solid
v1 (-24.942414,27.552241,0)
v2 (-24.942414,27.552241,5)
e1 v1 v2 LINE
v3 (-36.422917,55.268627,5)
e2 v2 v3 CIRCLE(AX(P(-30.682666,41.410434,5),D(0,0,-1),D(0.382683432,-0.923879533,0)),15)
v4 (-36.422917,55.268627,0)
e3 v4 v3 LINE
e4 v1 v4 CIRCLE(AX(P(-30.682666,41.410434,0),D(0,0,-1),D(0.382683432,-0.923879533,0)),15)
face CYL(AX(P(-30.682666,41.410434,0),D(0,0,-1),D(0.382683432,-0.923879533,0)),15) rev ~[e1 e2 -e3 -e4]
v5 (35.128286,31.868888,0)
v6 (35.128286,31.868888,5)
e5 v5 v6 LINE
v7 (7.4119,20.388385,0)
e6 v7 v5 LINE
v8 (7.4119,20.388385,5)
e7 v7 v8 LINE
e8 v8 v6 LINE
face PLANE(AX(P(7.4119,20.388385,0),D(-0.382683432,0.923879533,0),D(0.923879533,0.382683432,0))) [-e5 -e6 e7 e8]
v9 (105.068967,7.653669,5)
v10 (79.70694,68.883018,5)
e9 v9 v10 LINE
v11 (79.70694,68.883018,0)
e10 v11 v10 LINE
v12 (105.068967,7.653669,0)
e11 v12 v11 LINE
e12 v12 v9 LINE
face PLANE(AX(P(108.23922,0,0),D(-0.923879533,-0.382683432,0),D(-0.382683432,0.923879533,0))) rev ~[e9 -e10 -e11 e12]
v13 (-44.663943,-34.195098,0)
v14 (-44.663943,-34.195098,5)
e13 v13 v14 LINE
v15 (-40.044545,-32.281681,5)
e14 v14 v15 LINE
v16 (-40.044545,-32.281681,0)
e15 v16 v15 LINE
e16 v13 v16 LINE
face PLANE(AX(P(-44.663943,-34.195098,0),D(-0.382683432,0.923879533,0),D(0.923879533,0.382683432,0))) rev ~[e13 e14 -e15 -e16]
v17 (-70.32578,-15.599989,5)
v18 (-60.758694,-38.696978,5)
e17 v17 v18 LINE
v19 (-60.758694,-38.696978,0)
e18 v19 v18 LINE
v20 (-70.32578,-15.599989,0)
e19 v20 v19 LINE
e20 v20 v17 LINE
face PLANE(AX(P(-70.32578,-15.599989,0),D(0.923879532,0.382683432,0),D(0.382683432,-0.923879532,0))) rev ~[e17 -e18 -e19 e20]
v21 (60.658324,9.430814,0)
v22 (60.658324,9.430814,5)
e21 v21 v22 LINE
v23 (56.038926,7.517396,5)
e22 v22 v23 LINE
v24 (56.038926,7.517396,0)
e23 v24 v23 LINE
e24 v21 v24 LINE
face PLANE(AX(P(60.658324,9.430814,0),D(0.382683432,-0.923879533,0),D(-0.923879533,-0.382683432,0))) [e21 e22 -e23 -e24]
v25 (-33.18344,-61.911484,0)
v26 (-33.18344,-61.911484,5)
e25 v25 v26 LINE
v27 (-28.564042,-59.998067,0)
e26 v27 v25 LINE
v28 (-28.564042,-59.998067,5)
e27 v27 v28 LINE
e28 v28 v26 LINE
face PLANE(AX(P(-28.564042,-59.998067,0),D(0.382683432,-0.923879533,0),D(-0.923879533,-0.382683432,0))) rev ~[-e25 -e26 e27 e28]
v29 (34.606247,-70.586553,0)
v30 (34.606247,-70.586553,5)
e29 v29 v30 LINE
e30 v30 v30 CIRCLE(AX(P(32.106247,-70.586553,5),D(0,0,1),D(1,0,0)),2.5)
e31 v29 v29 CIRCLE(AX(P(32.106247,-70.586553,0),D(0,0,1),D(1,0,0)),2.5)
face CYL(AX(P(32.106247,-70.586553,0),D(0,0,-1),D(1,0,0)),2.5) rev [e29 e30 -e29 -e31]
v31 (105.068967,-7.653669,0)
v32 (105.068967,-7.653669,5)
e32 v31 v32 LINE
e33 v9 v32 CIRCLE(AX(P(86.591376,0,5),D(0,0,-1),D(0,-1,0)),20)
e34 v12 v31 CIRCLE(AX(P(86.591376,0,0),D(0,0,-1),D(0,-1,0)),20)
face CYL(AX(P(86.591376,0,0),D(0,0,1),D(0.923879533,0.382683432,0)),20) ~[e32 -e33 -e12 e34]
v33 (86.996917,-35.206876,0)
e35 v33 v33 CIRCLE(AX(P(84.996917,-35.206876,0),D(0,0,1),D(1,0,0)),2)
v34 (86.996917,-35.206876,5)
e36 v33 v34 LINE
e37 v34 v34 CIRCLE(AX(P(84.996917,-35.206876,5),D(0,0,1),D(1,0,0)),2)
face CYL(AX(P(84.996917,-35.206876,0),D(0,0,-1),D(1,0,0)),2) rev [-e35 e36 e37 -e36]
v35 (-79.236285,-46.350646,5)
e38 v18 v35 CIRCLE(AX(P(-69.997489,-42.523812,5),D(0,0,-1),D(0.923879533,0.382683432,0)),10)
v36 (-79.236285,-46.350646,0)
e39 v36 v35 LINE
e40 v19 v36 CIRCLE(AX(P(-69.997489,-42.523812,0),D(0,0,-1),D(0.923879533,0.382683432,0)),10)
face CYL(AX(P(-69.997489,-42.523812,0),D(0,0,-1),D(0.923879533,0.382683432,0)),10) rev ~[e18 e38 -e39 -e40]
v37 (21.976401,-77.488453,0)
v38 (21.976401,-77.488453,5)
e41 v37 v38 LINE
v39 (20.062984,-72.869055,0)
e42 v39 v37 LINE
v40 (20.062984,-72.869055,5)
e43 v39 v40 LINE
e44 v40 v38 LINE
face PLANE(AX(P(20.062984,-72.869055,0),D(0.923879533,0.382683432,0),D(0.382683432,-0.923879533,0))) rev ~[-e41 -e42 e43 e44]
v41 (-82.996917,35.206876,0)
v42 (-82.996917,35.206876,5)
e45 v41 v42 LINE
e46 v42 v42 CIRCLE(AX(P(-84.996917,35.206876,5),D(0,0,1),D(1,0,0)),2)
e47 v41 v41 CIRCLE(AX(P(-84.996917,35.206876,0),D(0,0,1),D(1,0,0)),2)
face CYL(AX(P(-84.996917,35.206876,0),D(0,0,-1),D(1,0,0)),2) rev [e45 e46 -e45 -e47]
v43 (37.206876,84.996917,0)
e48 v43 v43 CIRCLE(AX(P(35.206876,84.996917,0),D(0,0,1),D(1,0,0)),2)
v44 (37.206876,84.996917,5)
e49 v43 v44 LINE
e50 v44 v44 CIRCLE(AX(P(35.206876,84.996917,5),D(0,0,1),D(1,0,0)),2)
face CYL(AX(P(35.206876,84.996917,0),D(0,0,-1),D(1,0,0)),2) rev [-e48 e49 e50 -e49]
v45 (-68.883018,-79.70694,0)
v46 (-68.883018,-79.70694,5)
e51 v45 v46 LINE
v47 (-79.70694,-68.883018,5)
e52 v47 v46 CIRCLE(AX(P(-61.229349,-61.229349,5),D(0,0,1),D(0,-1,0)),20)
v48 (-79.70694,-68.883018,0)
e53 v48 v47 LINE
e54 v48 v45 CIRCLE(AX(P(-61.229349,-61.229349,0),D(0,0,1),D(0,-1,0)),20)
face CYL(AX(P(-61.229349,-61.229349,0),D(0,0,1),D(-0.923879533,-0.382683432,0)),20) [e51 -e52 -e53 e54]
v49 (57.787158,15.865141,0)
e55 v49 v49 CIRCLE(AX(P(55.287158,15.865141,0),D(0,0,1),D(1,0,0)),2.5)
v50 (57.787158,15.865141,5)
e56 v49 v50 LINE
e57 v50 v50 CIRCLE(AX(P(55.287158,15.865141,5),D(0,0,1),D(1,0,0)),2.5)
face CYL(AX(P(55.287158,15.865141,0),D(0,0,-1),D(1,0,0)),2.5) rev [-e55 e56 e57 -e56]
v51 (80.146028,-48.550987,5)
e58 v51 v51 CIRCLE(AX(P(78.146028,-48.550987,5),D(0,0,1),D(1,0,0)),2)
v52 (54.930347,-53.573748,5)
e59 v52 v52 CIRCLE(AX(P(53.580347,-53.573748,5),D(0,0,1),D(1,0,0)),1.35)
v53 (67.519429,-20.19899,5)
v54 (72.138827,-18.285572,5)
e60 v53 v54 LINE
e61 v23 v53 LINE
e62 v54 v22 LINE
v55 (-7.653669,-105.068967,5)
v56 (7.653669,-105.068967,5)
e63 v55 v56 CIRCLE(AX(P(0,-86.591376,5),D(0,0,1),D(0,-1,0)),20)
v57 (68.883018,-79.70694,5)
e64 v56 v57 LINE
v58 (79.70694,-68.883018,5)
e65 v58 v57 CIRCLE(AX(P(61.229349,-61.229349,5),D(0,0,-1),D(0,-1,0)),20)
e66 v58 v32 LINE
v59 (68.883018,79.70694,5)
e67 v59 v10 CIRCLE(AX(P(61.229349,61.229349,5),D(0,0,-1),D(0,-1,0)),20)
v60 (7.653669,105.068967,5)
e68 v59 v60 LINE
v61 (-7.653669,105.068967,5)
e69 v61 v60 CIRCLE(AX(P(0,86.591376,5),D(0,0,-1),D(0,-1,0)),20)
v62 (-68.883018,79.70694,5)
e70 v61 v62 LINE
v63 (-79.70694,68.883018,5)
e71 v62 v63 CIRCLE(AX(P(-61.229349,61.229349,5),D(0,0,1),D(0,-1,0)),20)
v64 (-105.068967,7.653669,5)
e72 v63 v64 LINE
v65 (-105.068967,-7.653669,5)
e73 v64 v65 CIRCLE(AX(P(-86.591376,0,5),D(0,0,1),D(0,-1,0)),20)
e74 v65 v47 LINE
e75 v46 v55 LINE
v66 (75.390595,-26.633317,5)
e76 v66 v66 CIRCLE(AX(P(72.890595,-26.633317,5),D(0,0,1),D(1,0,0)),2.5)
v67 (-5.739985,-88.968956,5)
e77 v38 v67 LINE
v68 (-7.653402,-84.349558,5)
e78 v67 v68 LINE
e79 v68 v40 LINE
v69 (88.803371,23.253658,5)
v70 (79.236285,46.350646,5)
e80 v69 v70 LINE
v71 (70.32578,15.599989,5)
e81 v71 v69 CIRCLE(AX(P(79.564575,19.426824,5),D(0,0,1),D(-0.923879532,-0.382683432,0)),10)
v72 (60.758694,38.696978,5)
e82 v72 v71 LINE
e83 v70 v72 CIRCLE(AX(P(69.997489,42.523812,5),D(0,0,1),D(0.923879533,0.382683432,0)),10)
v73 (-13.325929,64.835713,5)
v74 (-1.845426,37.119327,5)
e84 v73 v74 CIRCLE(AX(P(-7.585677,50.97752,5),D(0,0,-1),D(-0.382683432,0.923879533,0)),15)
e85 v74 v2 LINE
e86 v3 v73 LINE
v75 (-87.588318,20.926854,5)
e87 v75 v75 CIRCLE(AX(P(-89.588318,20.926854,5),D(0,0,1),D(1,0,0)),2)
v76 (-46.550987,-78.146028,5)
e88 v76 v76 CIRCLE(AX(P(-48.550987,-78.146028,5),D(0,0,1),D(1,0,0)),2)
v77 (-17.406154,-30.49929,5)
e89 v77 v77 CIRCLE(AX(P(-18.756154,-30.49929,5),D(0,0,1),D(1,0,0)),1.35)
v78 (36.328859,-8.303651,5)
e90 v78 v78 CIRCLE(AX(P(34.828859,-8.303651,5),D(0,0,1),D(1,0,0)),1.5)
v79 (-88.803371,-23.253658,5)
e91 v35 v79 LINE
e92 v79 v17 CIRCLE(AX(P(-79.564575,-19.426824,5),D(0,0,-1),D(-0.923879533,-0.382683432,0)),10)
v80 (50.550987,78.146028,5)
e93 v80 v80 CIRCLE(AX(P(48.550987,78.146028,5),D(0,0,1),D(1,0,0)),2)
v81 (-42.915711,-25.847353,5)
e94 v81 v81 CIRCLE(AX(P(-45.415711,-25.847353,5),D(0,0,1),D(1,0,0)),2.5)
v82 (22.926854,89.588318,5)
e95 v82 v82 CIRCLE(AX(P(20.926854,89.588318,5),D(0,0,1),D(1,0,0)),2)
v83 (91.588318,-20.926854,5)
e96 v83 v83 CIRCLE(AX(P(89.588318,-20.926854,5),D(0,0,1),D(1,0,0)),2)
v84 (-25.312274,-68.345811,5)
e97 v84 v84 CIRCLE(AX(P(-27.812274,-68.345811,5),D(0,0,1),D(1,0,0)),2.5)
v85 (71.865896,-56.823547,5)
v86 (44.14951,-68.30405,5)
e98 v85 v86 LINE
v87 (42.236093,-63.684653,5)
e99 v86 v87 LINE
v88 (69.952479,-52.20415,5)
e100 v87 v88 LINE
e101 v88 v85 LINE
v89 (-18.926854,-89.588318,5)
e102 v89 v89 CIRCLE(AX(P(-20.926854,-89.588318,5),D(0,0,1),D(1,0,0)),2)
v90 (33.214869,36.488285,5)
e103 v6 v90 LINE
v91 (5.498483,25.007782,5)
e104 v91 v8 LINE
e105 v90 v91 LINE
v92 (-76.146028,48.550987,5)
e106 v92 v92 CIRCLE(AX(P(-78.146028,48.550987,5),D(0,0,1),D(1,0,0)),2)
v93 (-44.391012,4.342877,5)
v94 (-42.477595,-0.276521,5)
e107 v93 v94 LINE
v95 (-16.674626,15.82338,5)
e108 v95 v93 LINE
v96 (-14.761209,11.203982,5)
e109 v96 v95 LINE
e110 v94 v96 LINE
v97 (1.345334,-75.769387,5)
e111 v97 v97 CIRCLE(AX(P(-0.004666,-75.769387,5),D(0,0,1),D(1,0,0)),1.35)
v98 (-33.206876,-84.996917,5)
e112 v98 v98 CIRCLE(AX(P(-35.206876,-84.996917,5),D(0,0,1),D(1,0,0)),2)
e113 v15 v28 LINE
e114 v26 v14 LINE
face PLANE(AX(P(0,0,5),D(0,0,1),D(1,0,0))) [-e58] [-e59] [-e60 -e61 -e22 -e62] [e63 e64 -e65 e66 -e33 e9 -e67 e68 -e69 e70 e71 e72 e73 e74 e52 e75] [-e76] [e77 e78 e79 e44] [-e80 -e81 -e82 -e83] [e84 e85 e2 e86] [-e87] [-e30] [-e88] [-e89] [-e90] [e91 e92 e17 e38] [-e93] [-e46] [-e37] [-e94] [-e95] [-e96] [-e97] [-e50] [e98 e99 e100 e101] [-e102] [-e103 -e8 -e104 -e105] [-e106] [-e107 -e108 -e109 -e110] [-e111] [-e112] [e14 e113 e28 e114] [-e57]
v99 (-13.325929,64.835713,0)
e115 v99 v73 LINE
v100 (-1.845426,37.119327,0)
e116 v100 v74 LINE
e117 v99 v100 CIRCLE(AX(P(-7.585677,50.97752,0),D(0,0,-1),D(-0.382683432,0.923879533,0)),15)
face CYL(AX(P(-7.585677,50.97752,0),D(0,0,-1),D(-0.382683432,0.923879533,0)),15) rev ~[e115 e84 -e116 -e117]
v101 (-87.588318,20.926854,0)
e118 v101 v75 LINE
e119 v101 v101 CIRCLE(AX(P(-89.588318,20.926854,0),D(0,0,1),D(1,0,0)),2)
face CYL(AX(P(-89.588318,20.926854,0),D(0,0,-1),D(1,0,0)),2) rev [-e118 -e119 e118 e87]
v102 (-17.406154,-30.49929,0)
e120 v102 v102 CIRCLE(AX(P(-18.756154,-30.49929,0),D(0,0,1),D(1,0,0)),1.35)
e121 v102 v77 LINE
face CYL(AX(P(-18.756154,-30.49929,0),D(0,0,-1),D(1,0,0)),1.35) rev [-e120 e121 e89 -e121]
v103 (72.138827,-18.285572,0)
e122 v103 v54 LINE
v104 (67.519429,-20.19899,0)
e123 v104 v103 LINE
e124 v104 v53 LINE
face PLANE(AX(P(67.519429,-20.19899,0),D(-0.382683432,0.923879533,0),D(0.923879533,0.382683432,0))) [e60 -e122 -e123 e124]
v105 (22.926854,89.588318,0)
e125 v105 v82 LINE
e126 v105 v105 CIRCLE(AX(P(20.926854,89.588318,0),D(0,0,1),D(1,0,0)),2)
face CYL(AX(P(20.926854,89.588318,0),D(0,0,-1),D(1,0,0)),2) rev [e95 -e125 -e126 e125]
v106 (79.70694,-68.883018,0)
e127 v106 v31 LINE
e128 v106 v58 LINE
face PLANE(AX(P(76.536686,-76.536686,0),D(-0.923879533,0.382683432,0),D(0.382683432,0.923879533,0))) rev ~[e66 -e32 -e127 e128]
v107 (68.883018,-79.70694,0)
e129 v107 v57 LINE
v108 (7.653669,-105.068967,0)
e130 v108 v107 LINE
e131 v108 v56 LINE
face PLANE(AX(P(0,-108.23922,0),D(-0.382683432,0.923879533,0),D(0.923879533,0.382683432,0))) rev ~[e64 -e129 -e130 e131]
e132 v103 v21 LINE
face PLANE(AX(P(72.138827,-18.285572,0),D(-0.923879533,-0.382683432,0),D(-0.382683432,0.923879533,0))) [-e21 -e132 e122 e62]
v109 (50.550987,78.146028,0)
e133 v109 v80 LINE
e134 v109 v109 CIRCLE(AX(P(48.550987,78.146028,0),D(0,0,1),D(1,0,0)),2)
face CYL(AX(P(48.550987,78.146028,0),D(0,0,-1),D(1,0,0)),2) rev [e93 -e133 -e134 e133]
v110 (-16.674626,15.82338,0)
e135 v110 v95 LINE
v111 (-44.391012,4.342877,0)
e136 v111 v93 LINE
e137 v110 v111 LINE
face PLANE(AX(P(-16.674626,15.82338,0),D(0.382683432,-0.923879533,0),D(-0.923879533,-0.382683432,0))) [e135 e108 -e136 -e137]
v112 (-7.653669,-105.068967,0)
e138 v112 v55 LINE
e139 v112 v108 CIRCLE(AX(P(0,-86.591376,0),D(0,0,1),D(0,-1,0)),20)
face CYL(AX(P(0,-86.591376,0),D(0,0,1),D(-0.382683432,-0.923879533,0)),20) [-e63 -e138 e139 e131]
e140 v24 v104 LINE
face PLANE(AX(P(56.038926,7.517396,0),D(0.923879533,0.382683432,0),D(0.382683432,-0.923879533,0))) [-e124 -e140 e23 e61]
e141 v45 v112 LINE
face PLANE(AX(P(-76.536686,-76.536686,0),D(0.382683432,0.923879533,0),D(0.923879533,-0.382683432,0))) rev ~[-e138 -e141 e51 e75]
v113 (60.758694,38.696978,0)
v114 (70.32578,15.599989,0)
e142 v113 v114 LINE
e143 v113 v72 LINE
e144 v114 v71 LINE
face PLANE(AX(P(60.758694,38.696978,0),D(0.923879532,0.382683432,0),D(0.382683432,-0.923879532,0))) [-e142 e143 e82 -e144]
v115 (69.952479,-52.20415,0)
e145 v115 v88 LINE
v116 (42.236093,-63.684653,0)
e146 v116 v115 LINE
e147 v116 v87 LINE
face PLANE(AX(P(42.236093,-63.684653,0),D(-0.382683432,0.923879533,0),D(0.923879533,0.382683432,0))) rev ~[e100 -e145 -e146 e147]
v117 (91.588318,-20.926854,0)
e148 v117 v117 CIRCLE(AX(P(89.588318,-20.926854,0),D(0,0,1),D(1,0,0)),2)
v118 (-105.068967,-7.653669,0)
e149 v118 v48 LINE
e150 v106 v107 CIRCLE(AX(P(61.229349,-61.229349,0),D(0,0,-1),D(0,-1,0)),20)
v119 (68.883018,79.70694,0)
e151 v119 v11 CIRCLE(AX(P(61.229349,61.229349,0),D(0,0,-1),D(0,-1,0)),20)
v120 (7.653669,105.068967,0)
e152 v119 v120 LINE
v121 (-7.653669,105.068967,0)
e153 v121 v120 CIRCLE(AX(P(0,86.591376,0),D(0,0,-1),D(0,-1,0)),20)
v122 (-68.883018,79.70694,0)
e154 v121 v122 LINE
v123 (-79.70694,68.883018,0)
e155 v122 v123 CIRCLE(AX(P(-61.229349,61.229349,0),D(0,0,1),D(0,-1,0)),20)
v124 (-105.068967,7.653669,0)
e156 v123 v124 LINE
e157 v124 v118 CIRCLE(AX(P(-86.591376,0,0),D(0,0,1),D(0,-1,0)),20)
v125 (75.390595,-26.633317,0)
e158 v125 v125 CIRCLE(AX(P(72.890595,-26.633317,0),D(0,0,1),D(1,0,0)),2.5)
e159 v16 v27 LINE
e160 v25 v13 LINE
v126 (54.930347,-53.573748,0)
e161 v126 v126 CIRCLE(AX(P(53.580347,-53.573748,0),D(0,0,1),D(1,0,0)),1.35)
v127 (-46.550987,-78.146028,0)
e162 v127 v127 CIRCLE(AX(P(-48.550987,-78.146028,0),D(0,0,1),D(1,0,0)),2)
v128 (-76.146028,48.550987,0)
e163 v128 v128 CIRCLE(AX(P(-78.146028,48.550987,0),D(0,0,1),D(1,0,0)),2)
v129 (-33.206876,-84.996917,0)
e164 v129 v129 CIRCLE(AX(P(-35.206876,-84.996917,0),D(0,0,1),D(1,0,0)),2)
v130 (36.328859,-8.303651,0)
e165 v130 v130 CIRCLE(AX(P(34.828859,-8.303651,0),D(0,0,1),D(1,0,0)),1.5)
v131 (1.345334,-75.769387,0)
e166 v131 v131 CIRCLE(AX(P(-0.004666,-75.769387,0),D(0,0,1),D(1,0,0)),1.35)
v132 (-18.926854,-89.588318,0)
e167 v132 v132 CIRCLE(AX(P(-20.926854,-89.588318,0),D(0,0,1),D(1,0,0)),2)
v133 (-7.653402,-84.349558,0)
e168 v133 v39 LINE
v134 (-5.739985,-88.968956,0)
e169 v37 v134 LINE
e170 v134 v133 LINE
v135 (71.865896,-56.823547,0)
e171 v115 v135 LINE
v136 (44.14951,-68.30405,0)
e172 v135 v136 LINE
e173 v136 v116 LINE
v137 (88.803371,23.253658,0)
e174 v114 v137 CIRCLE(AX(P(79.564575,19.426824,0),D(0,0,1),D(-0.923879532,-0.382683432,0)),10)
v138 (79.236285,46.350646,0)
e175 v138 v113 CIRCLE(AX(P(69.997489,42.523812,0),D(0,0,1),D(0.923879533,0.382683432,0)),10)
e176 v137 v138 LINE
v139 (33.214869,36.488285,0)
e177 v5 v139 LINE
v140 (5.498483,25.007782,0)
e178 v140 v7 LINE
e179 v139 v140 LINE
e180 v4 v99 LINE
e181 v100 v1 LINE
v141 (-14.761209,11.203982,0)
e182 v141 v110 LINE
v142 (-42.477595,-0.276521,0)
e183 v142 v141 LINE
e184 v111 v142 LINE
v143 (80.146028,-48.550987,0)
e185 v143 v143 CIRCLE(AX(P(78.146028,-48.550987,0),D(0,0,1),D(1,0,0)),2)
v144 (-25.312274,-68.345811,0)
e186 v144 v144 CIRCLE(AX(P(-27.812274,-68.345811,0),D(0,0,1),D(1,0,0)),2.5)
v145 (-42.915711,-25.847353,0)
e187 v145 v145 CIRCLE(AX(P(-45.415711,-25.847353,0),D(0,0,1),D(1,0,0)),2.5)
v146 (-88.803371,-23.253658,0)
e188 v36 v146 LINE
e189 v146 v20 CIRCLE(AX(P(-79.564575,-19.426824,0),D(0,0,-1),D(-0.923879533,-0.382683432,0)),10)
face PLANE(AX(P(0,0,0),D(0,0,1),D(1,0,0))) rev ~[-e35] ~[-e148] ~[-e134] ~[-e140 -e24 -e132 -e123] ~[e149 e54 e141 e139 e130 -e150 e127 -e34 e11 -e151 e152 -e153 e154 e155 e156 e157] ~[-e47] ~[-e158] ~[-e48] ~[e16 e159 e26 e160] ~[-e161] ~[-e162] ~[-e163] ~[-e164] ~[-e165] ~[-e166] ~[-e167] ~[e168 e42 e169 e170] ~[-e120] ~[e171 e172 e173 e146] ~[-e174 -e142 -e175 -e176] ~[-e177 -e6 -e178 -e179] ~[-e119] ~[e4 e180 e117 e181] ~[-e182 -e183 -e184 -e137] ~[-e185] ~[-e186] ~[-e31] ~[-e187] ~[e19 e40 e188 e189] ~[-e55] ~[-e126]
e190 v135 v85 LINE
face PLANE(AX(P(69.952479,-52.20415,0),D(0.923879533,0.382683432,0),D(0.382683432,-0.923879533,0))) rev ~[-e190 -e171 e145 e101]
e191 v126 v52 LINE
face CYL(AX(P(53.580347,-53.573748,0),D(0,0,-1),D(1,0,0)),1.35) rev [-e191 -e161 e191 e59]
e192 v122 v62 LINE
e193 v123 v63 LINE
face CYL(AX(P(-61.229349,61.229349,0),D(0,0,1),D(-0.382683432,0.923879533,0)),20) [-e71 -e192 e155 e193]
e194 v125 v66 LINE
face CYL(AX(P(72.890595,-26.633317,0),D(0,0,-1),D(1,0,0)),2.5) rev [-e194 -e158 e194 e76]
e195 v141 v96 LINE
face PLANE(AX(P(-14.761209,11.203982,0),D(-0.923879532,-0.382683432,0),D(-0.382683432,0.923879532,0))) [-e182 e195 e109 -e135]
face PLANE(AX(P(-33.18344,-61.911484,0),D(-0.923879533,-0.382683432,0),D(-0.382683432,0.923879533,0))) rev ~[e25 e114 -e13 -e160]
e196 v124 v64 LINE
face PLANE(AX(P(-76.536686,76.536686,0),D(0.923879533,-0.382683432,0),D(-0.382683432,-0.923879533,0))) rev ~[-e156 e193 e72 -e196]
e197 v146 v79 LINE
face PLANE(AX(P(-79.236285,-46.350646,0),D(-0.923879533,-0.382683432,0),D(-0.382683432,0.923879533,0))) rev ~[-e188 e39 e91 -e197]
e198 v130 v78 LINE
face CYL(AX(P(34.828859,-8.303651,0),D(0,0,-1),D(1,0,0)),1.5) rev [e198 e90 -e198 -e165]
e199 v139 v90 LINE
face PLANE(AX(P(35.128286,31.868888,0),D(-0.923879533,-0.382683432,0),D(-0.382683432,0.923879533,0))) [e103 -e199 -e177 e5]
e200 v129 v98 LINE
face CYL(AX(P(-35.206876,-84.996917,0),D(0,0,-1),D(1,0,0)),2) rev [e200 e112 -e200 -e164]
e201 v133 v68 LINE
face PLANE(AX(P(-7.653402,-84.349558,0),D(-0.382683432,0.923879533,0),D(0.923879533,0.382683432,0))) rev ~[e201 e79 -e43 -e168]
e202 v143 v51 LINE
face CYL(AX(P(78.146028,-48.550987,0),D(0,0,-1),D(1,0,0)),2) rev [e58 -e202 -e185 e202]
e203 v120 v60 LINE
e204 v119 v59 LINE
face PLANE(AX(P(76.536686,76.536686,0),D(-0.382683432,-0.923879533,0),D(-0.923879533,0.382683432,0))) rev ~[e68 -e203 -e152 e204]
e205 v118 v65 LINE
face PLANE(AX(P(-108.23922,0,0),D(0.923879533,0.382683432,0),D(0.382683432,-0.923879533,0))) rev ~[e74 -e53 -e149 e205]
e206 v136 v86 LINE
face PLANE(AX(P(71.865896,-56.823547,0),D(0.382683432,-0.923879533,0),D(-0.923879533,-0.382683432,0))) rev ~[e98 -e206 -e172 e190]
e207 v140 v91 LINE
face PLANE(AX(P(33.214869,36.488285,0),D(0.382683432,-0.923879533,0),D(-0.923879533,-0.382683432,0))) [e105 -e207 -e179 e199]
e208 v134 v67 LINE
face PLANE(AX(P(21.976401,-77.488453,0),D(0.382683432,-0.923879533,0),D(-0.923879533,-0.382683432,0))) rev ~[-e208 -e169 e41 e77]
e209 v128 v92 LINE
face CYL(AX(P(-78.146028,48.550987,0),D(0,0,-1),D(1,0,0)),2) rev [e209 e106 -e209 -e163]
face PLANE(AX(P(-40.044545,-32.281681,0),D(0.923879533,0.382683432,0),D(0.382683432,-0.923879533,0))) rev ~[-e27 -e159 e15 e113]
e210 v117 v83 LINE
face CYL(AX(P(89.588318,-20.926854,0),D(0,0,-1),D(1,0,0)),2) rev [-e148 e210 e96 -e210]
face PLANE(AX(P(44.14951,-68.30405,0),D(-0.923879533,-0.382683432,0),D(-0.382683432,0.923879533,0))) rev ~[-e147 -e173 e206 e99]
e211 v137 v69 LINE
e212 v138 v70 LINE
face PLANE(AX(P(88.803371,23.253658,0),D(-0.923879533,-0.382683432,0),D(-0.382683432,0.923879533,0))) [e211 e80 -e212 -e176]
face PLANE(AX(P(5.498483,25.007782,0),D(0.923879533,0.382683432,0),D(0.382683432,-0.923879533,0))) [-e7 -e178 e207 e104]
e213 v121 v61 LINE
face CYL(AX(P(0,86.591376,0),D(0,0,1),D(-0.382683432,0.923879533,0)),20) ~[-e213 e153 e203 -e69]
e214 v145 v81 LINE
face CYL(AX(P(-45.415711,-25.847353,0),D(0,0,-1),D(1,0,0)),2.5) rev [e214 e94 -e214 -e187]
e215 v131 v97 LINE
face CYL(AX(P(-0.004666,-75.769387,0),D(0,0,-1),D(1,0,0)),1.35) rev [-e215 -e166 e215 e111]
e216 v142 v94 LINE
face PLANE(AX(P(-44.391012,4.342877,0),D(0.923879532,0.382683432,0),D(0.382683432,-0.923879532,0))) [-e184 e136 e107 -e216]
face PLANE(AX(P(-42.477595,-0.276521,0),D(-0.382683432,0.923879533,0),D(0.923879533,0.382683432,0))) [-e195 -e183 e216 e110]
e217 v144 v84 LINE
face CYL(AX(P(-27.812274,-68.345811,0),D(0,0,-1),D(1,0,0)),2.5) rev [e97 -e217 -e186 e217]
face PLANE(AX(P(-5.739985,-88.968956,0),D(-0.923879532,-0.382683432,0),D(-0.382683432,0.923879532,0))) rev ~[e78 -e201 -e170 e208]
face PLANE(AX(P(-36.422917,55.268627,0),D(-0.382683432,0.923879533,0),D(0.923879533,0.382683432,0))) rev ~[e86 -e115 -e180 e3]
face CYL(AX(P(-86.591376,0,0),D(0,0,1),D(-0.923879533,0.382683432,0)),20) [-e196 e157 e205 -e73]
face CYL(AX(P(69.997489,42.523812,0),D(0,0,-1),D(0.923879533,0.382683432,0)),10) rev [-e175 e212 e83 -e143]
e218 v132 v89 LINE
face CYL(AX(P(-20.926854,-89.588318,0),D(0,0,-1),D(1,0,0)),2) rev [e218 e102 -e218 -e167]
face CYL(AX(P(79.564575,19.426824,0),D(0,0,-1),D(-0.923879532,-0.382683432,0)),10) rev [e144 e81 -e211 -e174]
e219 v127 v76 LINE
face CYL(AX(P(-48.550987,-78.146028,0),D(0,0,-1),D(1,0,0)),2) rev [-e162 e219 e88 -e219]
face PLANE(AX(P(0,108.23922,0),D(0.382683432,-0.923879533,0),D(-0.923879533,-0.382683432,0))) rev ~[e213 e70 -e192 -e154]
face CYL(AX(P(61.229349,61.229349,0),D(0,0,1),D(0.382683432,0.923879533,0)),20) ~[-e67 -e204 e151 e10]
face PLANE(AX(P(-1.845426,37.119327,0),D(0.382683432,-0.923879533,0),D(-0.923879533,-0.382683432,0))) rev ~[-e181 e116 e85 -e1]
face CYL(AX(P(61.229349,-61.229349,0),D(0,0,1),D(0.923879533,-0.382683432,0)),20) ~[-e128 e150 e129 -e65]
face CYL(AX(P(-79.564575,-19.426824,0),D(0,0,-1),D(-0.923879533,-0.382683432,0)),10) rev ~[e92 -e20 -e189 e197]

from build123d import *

# Parameters (mm, degrees)
SKETCH_1_R      = 2
SKETCH_1_R_2    = 2.5
SKETCH_1_R_3    = 1.35
SKETCH_1_R_4    = 1.5
EXTRUDE_1_DEPTH = 5
FILLET_1_R      = 20


with BuildPart() as part:
    # 草图1 → 凸台-拉伸1 (new body)
    with BuildSketch(Plane.XY):
        Polygon((0, 108.239220029), (-76.536686473, 76.536686473), (-108.239220029, 0), (-76.536686473, -76.536686473), (0, -108.239220029), (76.536686473, -76.536686473), (108.239220029, 0), (76.536686473, 76.536686473), align=None)
        with Locations((-35.206875778, -84.996916991)):
            Circle(SKETCH_1_R, mode=Mode.SUBTRACT)
        with Locations((84.996916991, -35.206875778)):
            Circle(SKETCH_1_R, mode=Mode.SUBTRACT)
        with Locations((35.206875778, 84.996916991)):
            Circle(SKETCH_1_R, mode=Mode.SUBTRACT)
        with Locations((-84.996916991, 35.206875778)):
            Circle(SKETCH_1_R, mode=Mode.SUBTRACT)
        with Locations((-45.41571145, -25.847352929)):
            Circle(SKETCH_1_R_2, mode=Mode.SUBTRACT)
        with Locations((-27.812273562, -68.345811425)):
            Circle(SKETCH_1_R_2, mode=Mode.SUBTRACT)
        with Locations((55.287157593, 15.865141198)):
            Circle(SKETCH_1_R_2, mode=Mode.SUBTRACT)
        with Locations((72.890595482, -26.633317297)):
            Circle(SKETCH_1_R_2, mode=Mode.SUBTRACT)
        with Locations((32.106246769, -70.586552674)):
            Circle(SKETCH_1_R_2, mode=Mode.SUBTRACT)
        with Locations((-18.756154363, -30.499289721)):
            Circle(SKETCH_1_R_3, mode=Mode.SUBTRACT)
        with Locations((-0.004666177, -75.769386814)):
            Circle(SKETCH_1_R_3, mode=Mode.SUBTRACT)
        with Locations((34.828858522, -8.303650644)):
            Circle(SKETCH_1_R_4, mode=Mode.SUBTRACT)
        with Locations((53.580346708, -53.573747737)):
            Circle(SKETCH_1_R_3, mode=Mode.SUBTRACT)
        with Locations((89.588318422, -20.926853617)):
            Circle(SKETCH_1_R, mode=Mode.SUBTRACT)
        with Locations((-20.926853617, -89.588318422)):
            Circle(SKETCH_1_R, mode=Mode.SUBTRACT)
        with Locations((-89.588318422, 20.926853617)):
            Circle(SKETCH_1_R, mode=Mode.SUBTRACT)
        with Locations((20.926853617, 89.588318422)):
            Circle(SKETCH_1_R, mode=Mode.SUBTRACT)
        with Locations((-48.55098737, -78.146027573)):
            Circle(SKETCH_1_R, mode=Mode.SUBTRACT)
        with Locations((-78.146027573, 48.55098737)):
            Circle(SKETCH_1_R, mode=Mode.SUBTRACT)
        with Locations((48.55098737, 78.146027573)):
            Circle(SKETCH_1_R, mode=Mode.SUBTRACT)
        with Locations((78.146027573, -48.55098737)):
            Circle(SKETCH_1_R, mode=Mode.SUBTRACT)
        Polygon((-40.04454516, -32.281680609), (-28.564042189, -59.998066584), (-33.183439852, -61.911483746), (-44.663942823, -34.19509777), align=None, mode=Mode.SUBTRACT)
        Polygon((-7.653402177, -84.349558002), (20.062983798, -72.869055031), (21.97640096, -77.488452694), (-5.739985015, -88.968955664), align=None, mode=Mode.SUBTRACT)
        Polygon((56.038926221, 7.517396357), (67.519429192, -20.198989618), (72.138826855, -18.285572456), (60.658323884, 9.430813519), align=None, mode=Mode.SUBTRACT)
        Polygon((-42.477594522, -0.276520543), (-14.761208547, 11.203982428), (-16.674625709, 15.82338009), (-44.391011684, 4.342877119), align=None, mode=Mode.SUBTRACT)
        Polygon((42.236092579, -63.684652654), (69.952478554, -52.204149683), (71.865895716, -56.823547346), (44.14950974, -68.304050317), align=None, mode=Mode.SUBTRACT)
        Polygon((7.411900233, 20.388384804), (35.128286209, 31.868887775), (33.214869047, 36.488285438), (5.498483072, 25.007782467), align=None, mode=Mode.SUBTRACT)
        with BuildLine():
            Line((-36.42291726, 55.268626709), (-13.325928947, 64.835712518))
            ThreePointArc((-13.325928947, 64.835712518), (6.272515526, 56.717771016), (-1.845425976, 37.119326542))
            Line((-1.845425976, 37.119326542), (-24.942414289, 27.552240733))
            ThreePointArc((-24.942414289, 27.552240733), (-44.540858762, 35.670182236), (-36.42291726, 55.268626709))
        make_face(mode=Mode.SUBTRACT)
        with BuildLine():
            Line((-70.32577989, -15.599989311), (-60.75869408, -38.696977624))
            ThreePointArc((-60.75869408, -38.696977624), (-66.170655082, -51.762607273), (-79.236284731, -46.350646271))
            Line((-79.236284731, -46.350646271), (-88.80337054, -23.253657958))
            ThreePointArc((-88.80337054, -23.253657958), (-83.391409538, -10.18802831), (-70.32577989, -15.599989311))
        make_face(mode=Mode.SUBTRACT)
        with BuildLine():
            Line((60.75869408, 38.696977624), (70.32577989, 15.599989311))
            ThreePointArc((70.32577989, 15.599989311), (83.391409538, 10.18802831), (88.80337054, 23.253657958))
            Line((88.80337054, 23.253657958), (79.236284731, 46.350646271))
            ThreePointArc((79.236284731, 46.350646271), (66.170655082, 51.762607273), (60.75869408, 38.696977624))
        make_face(mode=Mode.SUBTRACT)
    extrude(amount=EXTRUDE_1_DEPTH)

    # 圆角1
    fillet_1_edges = [part.edges().sort_by_distance(p)[0] for p in [
        (76.536686473, 76.536686473, 2.5),
        (108.239220029, 0, 2.5),
        (76.536686473, -76.536686473, 2.5),
        (0, -108.239220029, 2.5),
        (-76.536686473, -76.536686473, 2.5),
        (-108.239220029, 0, 2.5),
        (-76.536686473, 76.536686473, 2.5),
        (0, 108.239220029, 2.5),
    ]]
    fillet(fillet_1_edges, radius=FILLET_1_R)


solid = part.part
